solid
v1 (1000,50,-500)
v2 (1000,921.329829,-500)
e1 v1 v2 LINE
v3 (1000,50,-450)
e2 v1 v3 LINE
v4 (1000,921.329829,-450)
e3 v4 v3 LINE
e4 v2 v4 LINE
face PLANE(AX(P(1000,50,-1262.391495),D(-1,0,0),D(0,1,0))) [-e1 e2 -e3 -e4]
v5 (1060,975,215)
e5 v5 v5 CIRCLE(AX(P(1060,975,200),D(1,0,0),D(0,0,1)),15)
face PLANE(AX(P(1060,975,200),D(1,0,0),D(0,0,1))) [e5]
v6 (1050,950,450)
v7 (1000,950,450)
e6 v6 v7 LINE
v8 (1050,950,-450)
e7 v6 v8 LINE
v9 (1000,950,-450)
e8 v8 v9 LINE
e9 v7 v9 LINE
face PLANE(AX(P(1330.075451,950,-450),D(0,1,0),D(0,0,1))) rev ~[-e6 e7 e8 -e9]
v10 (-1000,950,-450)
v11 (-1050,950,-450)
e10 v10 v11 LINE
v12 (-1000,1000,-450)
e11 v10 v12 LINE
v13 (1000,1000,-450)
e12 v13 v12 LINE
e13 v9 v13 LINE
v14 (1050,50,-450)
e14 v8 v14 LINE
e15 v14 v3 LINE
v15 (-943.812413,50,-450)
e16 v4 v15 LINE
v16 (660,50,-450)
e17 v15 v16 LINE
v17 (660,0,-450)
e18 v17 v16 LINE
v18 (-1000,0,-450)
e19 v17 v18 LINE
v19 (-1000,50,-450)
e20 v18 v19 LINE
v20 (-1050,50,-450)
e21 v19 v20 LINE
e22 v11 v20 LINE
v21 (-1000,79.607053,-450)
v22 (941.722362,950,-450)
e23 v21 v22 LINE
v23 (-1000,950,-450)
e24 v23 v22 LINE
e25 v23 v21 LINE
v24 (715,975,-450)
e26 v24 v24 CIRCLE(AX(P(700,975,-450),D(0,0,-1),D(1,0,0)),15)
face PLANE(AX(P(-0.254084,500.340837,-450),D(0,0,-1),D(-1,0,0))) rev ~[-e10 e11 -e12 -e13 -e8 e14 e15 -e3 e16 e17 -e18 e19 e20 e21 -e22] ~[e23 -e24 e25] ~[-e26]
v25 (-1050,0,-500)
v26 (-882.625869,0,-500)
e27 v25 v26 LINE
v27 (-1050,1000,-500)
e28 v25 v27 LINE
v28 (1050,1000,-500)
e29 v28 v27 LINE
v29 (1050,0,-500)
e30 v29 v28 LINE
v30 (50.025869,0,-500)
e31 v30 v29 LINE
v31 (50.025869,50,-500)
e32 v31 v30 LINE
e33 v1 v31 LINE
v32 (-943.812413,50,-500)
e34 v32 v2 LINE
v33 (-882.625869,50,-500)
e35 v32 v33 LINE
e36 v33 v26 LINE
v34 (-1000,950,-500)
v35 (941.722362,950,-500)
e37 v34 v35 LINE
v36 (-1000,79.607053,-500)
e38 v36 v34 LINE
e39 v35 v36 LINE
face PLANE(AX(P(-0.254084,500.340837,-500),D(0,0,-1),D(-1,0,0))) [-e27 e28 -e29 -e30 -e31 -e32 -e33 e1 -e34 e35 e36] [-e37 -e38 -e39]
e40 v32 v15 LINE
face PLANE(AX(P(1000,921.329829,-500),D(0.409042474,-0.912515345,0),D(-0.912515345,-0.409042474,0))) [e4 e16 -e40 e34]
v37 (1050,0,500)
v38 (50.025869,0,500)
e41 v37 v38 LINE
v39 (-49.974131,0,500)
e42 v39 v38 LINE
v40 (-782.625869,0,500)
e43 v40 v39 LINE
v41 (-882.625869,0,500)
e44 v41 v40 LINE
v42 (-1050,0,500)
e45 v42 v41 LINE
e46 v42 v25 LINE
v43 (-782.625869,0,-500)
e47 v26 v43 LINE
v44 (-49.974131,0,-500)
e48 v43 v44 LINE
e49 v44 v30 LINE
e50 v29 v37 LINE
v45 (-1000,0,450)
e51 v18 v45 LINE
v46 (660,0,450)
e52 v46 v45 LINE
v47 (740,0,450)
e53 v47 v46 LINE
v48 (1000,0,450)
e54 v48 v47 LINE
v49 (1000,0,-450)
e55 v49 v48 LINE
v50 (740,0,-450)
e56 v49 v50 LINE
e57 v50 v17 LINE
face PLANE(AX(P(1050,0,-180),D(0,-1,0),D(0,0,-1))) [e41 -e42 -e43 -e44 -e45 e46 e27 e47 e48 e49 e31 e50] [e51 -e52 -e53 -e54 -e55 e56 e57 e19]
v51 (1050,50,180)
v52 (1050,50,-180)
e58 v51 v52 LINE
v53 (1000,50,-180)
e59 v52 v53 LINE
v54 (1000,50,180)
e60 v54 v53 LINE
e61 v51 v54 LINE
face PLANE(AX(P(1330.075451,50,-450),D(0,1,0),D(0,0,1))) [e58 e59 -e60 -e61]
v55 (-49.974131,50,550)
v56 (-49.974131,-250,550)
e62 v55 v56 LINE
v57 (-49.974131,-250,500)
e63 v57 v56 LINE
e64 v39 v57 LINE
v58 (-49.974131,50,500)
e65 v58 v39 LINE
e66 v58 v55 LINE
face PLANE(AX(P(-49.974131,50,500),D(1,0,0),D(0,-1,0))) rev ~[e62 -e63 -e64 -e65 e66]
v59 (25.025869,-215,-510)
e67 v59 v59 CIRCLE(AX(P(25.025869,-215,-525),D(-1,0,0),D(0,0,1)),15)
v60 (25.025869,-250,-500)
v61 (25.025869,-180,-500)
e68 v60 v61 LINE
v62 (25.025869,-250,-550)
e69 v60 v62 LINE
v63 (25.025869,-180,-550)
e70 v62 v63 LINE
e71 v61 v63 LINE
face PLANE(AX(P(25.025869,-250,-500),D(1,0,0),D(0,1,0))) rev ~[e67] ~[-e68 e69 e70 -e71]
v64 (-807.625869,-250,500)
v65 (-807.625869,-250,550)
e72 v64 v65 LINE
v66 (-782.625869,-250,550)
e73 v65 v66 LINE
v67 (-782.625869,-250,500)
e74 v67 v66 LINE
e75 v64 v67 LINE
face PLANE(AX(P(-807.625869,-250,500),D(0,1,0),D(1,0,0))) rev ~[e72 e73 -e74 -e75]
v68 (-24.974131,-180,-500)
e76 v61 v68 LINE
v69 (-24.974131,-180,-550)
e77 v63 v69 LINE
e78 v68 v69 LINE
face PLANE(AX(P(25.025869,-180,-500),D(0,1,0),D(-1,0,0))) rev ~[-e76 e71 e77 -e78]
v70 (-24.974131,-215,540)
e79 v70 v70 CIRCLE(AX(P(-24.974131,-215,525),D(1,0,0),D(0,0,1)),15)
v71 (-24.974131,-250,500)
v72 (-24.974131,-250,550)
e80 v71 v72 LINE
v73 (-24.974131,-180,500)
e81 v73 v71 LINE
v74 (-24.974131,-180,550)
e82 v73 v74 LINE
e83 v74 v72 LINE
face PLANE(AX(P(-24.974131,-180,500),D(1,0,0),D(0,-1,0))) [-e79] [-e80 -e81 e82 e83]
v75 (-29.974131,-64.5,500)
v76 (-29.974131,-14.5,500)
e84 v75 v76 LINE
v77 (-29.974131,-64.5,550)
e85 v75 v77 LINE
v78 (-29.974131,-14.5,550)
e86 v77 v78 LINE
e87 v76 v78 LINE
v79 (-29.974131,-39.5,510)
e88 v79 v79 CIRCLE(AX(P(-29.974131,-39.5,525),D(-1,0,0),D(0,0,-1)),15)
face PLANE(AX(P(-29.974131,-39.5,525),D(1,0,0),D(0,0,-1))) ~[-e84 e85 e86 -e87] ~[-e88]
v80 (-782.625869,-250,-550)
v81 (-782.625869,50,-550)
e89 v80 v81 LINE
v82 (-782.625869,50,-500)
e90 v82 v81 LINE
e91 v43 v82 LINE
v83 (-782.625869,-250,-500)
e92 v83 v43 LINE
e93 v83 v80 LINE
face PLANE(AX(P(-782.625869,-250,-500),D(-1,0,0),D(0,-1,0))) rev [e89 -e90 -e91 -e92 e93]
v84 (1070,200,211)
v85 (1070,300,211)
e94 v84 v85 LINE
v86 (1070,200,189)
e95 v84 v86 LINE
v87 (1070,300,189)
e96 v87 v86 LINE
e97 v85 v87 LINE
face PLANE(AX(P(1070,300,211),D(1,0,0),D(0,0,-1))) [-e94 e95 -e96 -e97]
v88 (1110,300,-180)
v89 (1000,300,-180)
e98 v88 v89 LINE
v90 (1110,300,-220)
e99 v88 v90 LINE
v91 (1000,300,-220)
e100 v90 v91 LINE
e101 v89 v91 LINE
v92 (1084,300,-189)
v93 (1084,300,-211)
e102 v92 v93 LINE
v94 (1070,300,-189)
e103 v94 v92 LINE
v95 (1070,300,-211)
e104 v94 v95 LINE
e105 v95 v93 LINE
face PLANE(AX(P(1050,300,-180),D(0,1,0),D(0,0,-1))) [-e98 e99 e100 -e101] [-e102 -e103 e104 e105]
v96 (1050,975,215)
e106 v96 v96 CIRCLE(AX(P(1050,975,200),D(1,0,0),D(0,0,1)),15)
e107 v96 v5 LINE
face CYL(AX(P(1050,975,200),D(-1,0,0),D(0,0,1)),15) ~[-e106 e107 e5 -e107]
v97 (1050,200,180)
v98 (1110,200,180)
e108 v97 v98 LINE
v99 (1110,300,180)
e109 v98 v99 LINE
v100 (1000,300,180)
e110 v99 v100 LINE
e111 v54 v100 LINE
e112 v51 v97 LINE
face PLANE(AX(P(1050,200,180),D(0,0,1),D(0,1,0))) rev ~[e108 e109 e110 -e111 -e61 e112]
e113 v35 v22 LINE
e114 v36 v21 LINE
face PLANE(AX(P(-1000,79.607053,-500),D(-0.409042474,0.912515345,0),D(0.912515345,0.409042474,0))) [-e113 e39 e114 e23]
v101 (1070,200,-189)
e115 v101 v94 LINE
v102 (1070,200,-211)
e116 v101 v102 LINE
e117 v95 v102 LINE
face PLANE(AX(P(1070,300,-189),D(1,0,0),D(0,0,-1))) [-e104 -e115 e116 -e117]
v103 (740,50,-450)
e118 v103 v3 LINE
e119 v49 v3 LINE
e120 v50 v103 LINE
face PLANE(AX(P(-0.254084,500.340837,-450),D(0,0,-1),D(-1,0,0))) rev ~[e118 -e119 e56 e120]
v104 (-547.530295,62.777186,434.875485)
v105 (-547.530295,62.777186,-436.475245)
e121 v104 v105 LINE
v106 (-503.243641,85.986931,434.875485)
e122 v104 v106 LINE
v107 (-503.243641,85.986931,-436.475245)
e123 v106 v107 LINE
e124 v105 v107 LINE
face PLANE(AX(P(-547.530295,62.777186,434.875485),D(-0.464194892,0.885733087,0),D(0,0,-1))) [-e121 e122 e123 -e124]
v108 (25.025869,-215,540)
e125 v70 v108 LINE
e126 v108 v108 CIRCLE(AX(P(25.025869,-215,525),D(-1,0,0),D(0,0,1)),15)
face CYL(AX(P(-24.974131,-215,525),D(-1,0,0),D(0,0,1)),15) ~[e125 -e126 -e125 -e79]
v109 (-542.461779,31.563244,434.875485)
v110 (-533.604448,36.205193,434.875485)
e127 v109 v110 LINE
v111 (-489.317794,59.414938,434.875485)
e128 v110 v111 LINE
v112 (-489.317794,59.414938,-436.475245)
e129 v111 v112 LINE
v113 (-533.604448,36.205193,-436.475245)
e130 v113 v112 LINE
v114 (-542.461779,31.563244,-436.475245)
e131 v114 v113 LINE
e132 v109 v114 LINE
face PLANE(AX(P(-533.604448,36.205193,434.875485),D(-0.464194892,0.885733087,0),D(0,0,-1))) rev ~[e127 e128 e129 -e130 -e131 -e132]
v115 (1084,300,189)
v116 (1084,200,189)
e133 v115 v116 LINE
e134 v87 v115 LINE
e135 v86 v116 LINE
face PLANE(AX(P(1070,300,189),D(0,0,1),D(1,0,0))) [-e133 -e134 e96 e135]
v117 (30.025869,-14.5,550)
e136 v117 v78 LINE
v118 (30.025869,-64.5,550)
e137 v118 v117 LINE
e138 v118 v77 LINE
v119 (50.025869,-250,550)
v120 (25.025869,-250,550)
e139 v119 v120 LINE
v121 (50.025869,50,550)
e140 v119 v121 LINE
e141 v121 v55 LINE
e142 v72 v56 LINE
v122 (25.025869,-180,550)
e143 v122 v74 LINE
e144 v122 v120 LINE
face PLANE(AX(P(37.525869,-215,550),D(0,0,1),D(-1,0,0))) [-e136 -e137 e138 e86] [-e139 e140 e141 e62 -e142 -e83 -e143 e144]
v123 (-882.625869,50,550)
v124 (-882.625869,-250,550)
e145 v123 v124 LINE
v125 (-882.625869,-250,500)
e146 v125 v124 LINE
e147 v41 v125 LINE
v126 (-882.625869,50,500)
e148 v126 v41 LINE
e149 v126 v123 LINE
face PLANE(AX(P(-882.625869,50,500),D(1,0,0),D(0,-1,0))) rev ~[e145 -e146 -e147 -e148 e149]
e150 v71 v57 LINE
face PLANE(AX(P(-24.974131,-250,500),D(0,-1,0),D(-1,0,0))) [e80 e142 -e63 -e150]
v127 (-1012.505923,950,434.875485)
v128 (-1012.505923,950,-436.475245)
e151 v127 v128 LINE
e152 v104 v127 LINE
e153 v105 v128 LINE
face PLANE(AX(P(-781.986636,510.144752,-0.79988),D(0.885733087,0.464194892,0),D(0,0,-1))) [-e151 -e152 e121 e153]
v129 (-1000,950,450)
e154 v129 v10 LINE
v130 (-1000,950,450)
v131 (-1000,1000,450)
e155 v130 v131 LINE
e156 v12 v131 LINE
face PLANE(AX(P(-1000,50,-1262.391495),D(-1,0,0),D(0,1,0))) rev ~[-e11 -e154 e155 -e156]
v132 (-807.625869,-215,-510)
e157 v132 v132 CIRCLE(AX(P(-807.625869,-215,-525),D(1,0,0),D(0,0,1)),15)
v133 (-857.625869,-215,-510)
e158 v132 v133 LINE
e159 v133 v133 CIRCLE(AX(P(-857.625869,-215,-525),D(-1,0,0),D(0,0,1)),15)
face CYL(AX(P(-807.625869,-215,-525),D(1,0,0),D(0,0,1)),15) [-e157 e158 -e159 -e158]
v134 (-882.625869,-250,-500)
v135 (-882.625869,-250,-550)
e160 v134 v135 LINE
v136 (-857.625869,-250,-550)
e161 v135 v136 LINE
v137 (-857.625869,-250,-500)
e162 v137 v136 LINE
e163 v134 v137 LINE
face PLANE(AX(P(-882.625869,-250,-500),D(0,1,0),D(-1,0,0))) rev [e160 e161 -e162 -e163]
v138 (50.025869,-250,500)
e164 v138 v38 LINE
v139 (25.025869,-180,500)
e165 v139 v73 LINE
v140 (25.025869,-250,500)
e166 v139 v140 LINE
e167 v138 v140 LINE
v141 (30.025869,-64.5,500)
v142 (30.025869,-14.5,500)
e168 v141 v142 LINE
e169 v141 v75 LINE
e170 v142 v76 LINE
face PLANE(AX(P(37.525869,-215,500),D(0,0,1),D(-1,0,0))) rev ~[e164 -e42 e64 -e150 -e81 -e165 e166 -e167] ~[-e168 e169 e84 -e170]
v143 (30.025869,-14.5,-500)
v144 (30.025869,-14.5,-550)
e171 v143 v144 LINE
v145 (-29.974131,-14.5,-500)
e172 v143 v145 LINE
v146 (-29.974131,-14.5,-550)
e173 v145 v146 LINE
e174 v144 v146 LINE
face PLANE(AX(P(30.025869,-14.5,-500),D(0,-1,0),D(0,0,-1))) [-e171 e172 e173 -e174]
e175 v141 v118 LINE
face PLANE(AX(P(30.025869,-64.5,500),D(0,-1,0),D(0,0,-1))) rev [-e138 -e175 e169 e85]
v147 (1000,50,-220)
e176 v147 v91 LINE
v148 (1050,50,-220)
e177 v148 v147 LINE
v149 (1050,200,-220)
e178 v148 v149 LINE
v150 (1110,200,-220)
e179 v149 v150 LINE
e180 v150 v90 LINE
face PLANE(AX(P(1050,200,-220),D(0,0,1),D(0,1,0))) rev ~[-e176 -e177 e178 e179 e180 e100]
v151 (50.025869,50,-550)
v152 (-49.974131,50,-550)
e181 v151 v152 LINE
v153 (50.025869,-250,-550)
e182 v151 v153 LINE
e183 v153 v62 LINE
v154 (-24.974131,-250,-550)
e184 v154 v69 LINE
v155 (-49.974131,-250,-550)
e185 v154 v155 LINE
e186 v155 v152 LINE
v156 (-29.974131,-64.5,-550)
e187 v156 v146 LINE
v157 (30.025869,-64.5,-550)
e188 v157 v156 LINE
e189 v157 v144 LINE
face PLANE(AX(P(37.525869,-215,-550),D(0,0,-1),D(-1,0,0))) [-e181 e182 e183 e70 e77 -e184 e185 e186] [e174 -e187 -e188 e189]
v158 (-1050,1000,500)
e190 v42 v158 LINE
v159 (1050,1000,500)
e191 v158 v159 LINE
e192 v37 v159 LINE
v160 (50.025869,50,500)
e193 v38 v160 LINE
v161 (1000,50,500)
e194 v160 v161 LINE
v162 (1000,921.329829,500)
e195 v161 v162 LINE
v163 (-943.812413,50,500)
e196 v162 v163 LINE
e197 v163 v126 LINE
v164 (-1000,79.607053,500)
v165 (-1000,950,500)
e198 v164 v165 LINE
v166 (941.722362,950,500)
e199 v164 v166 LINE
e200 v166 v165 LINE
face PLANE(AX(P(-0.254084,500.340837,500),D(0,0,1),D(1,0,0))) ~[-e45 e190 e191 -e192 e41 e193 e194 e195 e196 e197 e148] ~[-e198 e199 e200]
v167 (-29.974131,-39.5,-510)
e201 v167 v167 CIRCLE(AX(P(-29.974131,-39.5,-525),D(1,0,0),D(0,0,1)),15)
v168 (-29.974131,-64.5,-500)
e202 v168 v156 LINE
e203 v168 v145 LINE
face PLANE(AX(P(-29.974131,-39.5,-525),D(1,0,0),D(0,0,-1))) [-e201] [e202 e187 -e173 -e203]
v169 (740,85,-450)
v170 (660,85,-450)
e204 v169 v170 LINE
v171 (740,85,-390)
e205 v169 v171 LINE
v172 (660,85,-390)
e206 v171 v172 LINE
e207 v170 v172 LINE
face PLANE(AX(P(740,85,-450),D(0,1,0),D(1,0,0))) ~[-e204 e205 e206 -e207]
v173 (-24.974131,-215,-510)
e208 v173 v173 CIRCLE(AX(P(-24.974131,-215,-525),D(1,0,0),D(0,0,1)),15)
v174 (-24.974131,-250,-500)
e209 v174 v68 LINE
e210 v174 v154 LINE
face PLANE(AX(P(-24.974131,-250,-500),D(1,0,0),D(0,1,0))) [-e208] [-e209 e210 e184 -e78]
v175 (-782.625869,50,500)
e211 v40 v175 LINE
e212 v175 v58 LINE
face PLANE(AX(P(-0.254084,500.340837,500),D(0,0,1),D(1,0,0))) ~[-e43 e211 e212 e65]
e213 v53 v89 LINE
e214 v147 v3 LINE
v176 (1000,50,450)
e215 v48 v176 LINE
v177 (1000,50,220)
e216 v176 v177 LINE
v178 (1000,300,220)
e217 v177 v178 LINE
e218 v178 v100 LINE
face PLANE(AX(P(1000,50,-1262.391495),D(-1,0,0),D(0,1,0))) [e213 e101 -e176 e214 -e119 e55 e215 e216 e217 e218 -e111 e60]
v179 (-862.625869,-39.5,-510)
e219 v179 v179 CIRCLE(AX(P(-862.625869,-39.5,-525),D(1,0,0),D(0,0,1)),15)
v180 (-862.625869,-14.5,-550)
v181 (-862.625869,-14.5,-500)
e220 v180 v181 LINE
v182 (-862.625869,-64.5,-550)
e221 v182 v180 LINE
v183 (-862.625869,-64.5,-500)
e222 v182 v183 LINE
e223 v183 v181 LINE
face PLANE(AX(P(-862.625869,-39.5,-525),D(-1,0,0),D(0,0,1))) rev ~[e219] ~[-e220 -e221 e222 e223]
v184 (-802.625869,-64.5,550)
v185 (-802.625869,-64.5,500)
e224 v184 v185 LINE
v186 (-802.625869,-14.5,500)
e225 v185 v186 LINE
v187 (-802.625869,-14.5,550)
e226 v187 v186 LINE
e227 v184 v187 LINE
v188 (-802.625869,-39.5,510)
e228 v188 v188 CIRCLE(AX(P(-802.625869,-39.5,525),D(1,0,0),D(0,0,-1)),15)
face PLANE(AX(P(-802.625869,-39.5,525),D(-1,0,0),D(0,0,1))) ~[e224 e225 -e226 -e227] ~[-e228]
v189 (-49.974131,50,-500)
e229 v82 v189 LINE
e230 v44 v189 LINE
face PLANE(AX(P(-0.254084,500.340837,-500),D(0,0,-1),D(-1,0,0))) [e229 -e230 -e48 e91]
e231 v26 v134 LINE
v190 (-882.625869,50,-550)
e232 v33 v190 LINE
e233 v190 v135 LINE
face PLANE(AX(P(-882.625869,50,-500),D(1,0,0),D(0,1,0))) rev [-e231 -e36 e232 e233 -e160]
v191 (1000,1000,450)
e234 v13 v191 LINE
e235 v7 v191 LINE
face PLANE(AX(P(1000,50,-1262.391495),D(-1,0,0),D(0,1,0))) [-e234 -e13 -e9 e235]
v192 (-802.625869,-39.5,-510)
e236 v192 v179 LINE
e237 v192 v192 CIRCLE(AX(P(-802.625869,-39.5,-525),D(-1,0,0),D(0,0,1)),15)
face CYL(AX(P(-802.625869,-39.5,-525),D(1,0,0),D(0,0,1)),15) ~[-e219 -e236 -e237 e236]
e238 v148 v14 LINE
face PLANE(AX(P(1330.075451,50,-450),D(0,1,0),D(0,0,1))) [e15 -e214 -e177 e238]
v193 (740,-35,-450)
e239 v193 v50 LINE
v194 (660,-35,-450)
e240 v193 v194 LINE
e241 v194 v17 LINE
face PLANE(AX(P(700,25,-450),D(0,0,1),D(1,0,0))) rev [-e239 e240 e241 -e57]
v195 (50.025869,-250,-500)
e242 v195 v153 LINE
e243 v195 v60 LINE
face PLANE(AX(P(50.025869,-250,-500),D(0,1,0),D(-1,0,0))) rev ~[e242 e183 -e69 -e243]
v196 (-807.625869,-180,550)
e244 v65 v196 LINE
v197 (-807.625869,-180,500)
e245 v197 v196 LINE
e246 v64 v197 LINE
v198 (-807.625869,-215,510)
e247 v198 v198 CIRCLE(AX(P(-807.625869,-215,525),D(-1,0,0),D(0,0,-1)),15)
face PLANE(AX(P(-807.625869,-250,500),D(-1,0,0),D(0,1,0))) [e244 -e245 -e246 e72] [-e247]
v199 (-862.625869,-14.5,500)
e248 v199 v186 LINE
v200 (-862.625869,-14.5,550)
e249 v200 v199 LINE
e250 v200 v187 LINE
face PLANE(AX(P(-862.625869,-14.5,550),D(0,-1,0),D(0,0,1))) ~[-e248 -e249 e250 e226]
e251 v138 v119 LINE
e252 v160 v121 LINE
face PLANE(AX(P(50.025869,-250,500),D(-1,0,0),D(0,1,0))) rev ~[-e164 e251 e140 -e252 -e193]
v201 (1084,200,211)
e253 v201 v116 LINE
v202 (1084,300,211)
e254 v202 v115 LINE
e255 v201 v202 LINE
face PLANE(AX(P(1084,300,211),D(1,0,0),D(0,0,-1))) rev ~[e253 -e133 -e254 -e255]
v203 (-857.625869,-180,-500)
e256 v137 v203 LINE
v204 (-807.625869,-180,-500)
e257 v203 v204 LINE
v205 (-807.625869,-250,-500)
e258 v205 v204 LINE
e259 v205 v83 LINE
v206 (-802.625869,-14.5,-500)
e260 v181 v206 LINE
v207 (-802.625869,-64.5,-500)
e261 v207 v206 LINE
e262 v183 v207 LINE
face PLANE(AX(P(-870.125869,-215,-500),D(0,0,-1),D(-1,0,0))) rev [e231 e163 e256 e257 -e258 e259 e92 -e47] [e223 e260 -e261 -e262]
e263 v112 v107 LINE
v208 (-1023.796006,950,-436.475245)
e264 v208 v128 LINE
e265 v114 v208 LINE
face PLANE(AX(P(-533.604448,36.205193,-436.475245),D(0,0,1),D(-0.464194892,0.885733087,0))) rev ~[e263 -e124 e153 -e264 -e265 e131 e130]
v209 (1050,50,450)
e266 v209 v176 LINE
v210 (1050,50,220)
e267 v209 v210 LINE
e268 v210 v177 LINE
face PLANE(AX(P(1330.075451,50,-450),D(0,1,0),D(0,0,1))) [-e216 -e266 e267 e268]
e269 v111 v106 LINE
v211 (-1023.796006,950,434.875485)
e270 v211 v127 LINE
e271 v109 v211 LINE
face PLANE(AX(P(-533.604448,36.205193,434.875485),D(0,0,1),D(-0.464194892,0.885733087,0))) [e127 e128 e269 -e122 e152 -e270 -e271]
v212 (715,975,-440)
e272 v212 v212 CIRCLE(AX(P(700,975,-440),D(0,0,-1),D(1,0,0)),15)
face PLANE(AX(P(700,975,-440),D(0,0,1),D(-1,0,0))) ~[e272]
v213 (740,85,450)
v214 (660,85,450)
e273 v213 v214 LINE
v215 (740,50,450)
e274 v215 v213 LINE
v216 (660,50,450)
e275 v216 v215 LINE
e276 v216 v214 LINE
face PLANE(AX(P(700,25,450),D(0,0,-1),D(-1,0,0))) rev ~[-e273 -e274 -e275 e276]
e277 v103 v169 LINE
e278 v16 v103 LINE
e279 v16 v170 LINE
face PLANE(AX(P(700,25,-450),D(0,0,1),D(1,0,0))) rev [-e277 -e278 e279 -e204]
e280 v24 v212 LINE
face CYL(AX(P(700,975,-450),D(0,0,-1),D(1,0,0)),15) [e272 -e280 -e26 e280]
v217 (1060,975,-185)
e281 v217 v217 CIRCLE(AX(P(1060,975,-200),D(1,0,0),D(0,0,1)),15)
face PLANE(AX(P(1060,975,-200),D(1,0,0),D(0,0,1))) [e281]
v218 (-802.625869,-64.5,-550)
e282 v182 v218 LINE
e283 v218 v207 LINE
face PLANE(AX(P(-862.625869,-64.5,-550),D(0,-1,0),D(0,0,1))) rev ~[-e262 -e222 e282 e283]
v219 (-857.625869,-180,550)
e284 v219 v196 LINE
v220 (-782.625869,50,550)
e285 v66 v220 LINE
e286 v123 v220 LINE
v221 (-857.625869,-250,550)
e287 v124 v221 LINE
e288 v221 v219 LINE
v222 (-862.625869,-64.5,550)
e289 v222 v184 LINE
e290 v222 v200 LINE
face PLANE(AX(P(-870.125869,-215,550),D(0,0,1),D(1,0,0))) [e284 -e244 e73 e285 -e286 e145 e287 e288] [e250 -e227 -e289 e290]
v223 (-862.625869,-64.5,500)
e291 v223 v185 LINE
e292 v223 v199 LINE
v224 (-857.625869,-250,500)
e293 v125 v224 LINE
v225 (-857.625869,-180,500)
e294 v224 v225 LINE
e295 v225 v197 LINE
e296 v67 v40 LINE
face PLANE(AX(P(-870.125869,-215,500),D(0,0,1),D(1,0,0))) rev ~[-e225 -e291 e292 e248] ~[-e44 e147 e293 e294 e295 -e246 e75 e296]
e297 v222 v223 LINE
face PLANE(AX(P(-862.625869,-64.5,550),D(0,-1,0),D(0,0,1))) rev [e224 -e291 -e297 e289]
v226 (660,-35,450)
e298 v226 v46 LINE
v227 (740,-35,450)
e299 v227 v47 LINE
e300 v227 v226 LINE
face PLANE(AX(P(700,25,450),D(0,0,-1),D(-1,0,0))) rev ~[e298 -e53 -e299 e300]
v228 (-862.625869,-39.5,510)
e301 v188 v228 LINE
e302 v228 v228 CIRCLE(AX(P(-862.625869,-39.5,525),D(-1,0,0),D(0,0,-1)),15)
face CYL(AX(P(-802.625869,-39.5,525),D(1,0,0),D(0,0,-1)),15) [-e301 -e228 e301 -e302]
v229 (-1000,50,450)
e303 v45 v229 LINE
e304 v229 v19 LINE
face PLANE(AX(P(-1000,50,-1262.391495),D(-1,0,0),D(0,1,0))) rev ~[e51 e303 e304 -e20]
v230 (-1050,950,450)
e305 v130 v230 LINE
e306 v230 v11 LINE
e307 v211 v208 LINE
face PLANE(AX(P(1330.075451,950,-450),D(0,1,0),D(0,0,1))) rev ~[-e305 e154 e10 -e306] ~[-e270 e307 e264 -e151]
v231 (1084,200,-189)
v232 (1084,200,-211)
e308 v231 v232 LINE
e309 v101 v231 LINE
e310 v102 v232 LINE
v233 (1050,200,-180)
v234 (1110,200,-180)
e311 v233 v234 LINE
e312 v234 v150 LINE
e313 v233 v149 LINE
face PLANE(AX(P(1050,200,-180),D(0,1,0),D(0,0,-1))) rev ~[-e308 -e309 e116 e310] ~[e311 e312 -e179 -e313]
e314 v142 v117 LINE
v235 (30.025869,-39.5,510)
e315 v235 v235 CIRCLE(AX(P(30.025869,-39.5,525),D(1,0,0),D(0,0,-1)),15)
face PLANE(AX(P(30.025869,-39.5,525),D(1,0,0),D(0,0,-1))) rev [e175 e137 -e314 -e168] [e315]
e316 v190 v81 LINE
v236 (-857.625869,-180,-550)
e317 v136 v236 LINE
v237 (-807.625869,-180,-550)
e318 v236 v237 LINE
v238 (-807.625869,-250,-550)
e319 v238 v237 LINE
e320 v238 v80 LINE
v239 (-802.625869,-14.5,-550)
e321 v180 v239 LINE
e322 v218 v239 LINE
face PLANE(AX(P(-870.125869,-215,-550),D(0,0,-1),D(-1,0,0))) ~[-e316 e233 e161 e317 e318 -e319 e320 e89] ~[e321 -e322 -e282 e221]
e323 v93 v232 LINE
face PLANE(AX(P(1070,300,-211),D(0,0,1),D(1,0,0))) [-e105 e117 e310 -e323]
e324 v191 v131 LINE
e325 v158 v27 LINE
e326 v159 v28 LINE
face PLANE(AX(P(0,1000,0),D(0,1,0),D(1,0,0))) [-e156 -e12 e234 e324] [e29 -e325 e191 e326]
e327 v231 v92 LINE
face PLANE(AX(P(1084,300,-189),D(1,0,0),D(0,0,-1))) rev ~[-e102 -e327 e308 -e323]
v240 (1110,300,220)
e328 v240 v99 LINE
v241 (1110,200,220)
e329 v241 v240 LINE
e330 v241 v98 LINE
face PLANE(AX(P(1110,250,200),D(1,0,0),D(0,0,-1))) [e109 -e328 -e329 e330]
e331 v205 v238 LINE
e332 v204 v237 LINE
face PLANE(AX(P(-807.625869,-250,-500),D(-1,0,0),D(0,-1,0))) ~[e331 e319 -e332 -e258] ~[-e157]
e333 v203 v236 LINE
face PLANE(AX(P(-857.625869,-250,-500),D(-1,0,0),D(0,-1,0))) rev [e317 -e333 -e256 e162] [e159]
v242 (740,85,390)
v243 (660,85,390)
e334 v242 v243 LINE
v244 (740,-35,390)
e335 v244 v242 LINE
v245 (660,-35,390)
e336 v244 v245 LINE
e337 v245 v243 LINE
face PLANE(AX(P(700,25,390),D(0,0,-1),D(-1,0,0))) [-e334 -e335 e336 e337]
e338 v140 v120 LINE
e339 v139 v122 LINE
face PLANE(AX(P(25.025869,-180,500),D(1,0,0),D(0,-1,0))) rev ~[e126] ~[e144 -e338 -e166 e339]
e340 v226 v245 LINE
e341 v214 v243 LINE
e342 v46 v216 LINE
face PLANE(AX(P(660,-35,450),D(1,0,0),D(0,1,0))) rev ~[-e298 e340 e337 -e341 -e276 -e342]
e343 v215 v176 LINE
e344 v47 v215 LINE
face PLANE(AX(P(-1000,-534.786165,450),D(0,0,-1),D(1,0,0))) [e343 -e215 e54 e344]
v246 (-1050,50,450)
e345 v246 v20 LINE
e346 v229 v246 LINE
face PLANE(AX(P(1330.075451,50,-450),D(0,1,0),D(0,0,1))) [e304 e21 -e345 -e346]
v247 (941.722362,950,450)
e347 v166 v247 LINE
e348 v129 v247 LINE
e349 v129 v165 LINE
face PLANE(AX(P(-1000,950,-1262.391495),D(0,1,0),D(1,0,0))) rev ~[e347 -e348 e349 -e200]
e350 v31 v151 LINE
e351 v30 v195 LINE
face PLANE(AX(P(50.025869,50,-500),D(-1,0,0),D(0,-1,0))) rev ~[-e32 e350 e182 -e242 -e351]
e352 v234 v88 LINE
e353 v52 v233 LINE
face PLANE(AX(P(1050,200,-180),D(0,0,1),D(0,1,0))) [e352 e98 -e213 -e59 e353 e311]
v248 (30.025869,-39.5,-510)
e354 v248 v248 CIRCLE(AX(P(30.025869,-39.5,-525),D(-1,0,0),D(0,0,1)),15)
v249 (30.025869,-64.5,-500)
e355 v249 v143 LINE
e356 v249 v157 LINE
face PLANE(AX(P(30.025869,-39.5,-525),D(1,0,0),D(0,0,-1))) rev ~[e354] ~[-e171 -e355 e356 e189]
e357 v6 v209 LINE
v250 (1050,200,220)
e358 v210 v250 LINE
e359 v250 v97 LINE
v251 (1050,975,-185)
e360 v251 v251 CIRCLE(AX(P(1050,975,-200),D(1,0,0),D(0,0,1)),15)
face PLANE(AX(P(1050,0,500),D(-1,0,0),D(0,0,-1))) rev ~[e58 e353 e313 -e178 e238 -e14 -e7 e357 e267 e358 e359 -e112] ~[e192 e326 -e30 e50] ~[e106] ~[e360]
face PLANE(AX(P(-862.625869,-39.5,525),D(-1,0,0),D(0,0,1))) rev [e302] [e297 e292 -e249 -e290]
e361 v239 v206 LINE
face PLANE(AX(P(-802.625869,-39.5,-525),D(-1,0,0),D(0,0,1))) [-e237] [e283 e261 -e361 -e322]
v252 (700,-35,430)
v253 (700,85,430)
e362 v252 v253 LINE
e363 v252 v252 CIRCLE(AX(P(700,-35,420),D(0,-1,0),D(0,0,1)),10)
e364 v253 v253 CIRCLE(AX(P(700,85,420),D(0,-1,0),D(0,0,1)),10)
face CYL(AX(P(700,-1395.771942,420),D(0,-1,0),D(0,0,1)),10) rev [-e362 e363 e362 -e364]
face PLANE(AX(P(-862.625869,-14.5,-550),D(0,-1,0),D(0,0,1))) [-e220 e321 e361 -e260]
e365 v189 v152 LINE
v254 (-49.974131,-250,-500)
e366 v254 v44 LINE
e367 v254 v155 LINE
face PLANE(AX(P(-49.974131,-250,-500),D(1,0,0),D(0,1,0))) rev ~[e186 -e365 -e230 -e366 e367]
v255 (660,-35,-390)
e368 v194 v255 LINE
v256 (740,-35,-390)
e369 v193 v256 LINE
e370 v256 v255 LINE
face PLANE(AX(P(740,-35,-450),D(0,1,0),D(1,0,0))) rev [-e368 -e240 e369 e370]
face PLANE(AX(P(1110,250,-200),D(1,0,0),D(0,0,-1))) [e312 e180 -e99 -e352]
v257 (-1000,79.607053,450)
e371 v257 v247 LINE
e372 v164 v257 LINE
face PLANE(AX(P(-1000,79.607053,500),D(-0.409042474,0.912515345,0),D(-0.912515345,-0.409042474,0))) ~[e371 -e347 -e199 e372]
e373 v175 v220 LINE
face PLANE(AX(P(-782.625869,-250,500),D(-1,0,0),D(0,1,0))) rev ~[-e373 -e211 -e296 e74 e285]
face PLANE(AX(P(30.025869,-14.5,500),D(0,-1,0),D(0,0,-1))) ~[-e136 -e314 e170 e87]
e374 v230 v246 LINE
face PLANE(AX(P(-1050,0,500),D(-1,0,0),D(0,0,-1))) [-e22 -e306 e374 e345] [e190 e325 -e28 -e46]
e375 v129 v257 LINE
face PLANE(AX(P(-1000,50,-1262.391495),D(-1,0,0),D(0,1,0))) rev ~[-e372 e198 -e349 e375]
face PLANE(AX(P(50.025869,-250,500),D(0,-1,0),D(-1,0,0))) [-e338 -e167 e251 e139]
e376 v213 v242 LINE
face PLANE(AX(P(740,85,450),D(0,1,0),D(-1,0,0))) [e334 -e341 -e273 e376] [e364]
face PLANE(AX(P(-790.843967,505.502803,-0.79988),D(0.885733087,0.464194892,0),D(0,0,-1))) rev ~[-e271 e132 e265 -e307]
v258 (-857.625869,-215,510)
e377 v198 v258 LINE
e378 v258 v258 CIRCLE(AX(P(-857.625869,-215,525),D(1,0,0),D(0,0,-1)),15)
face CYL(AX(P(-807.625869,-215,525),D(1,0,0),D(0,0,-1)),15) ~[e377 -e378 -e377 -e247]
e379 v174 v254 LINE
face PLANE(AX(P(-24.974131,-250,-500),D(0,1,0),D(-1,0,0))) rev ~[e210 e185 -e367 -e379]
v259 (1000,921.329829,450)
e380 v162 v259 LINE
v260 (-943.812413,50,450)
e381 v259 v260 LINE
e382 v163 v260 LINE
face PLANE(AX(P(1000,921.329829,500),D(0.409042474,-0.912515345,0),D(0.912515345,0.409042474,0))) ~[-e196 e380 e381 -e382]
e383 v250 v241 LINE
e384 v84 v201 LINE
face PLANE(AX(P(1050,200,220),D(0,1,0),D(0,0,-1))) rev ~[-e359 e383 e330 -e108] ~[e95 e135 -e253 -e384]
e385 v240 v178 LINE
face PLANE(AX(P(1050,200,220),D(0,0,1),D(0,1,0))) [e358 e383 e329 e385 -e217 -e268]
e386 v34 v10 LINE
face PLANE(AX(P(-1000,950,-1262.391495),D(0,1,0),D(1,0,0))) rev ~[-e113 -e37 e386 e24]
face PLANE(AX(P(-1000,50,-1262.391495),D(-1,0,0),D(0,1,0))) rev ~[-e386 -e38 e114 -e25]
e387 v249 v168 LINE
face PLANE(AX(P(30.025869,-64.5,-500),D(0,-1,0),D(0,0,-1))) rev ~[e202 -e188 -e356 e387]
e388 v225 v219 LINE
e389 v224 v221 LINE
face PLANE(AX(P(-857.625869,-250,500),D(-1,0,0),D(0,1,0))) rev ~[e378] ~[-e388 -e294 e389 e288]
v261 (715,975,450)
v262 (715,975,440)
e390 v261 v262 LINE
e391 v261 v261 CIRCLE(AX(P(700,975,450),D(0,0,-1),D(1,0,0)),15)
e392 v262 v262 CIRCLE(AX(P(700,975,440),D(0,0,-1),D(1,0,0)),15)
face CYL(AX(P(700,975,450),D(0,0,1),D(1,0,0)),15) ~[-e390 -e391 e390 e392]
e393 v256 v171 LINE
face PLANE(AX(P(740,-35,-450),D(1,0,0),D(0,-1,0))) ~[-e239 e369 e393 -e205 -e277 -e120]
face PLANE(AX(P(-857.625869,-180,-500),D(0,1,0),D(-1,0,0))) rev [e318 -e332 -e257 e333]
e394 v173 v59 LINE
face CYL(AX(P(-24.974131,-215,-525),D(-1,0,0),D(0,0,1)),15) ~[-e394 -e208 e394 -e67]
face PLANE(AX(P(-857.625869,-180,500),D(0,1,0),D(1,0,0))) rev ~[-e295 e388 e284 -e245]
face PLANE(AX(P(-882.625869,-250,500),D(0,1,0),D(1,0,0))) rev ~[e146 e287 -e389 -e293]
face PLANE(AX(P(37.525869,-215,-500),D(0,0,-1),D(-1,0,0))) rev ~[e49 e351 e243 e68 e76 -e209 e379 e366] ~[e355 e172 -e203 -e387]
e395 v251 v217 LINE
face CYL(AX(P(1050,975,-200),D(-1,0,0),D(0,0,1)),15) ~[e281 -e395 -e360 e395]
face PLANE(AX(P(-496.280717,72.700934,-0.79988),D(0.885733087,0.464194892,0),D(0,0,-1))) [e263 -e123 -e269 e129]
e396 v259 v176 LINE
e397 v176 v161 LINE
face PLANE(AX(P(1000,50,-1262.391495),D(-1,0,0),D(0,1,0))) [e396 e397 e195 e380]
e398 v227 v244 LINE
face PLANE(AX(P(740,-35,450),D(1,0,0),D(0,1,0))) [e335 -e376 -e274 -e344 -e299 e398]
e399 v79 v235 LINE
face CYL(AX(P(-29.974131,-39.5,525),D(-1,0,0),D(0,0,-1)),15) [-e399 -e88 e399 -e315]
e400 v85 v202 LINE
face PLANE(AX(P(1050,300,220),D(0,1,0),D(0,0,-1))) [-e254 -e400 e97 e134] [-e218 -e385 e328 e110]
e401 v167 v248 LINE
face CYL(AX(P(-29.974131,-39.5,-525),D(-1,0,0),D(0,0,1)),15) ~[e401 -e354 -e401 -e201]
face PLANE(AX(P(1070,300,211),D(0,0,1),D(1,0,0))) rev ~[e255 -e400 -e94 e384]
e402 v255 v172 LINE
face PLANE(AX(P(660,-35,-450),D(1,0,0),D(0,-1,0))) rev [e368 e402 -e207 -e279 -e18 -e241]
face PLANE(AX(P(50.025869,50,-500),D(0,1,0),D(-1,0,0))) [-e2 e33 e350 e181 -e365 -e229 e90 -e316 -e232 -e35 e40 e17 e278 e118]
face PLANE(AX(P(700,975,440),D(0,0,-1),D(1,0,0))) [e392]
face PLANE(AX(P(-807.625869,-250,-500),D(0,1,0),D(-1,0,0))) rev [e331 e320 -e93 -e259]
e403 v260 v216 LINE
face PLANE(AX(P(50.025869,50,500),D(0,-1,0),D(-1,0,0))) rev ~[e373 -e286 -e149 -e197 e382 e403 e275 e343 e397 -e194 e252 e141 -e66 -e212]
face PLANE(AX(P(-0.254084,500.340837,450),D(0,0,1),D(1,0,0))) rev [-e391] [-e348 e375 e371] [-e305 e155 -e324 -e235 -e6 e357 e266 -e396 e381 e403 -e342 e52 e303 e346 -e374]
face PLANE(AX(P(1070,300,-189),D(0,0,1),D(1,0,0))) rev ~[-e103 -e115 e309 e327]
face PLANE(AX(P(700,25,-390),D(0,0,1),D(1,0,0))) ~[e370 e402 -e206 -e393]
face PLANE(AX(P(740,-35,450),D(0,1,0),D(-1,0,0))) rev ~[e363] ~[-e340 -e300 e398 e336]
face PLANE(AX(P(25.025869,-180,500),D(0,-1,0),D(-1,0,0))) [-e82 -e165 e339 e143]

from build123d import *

# Parameters (mm, degrees)
SKETCH1_W                 = 2100
SKETCH1_H                 = 1000
BOSS_EXTRUDE1_DEPTH       = 1000
CUT_EXTRUDE1_DEPTH        = 1534.786165018
CUT_EXTRUDE1_DEPTH_BACK   = 1534.786165018
SKETCH2_W                 = 2000
SKETCH2_H                 = 900
CUT_EXTRUDE2_DEPTH        = 1762.391495381
CUT_EXTRUDE2_DEPTH_BACK   = 1762.391495381
SKETCH3_W                 = 2000
SKETCH3_H                 = 900
CUT_EXTRUDE3_DEPTH        = 2380.075450674
CUT_EXTRUDE3_DEPTH_BACK   = 2380.075450674
SKETCH4_W                 = 900
SKETCH4_H                 = 900
SKETCH11_R                = 15
BOSS_EXTRUDE4_DEPTH       = 10
SKETCH13_W                = 80
SKETCH13_H                = 120
BOSS_EXTRUDE6_DEPTH       = 60
CUT_EXTRUDE5_DEPTH        = 1480.771941888
CUT_EXTRUDE5_DEPTH_BACK   = 1480.771941888
SKETCH14_R                = 10
BOSS_EXTRUDE9_DEPTH       = 50
SKETCH18_W                = 25
SKETCH18_H                = 70
SKETCH18_W_2              = 100
SKETCH18_H_2              = 50
BOSS_EXTRUDE10_DEPTH      = 50
BOSS_EXTRUDE11_REACH      = 2182.2
SKETCH19_R                = 15
LPATTERN1_COUNT           = 2
LPATTERN1_PITCH           = 832.6
MIRROR6_COPY_1_SKETCH_W   = 25
MIRROR6_COPY_1_SKETCH_H   = 70
MIRROR6_COPY_1_SKETCH_W_2 = 100
MIRROR6_COPY_1_SKETCH_H_2 = 50
MIRROR6_COPY_1_DEPTH      = 50
MIRROR6_COPY_2_REACH      = 2182.2
MIRROR6_COPY_2_SKETCH_R   = 15
MIRROR6_COPY_3_SKETCH_W   = 25
MIRROR6_COPY_3_SKETCH_H   = 70
MIRROR6_COPY_3_SKETCH_W_2 = 100
MIRROR6_COPY_3_SKETCH_H_2 = 50
MIRROR6_COPY_3_DEPTH      = 50
MIRROR6_COPY_4_REACH      = 2182.2
MIRROR6_COPY_4_SKETCH_R   = 15
SKETCH21_W                = 871.350730207
SKETCH21_H                = 1070.163382418
BOSS_EXTRUDE12_DEPTH      = 10
SKETCH22_W                = 871.350730207
SKETCH22_H                = 30
BOSS_EXTRUDE13_DEPTH      = 50
CUT_EXTRUDE6_DEPTH        = 1520.045753096
CUT_EXTRUDE6_DEPTH_BACK   = 1520.045753096
SKETCH23_W                = 100
SKETCH23_H                = 50
SKETCH24_R                = 15
BOSS_EXTRUDE14_DEPTH      = 10
LPATTERN2_COUNT           = 2
LPATTERN2_PITCH           = 400
SKETCH25_W                = 40
SKETCH25_H                = 300
BOSS_EXTRUDE15_DEPTH      = 50
SKETCH26_W                = 40
SKETCH26_H                = 100
BOSS_EXTRUDE16_DEPTH      = 60
SKETCH27_W                = 14
SKETCH27_H                = 22
CUT_EXTRUDE7_DEPTH        = 1423.884394461
LPATTERN3_COUNT           = 2
LPATTERN3_PITCH           = 400
CUT_EXTRUDE8_START        = -20
SKETCH29_W                = 50
SKETCH29_H                = 50
CUT_EXTRUDE8_DEPTH        = 60
BOSS_EXTRUDE17_REACH      = 2229.249
SKETCH30_R                = 15
CUT_EXTRUDE9_START        = -20
SKETCH31_W                = 50
SKETCH31_H                = 50
CUT_EXTRUDE9_DEPTH        = 60
BOSS_EXTRUDE18_REACH      = 1615.084
SKETCH32_R                = 15


with BuildPart() as part:
    # Sketch1 → Boss-Extrude1 (new body)
    with BuildSketch(Plane(origin=(0, 0, 0), x_dir=(1, 0, 0), z_dir=(0, 1, 0))):
        Rectangle(SKETCH1_W, SKETCH1_H)
    extrude(amount=BOSS_EXTRUDE1_DEPTH)

    # Sketch2 → Cut-Extrude1 (cut, two sides: drawn at the far end of the back side and taken through both)
    with BuildSketch(Plane(origin=(0, 1000, 0), x_dir=(1, 0, 0), z_dir=(0, 1, 0)).offset(-CUT_EXTRUDE1_DEPTH_BACK)):
        Rectangle(SKETCH2_W, SKETCH2_H)
    extrude(amount=CUT_EXTRUDE1_DEPTH + CUT_EXTRUDE1_DEPTH_BACK, mode=Mode.SUBTRACT)

    # Sketch3 → Cut-Extrude2 (cut, two sides: drawn at the far end of the back side and taken through both)
    with BuildSketch(Plane.XY.offset(500).offset(-CUT_EXTRUDE2_DEPTH_BACK)):
        with Locations((0, 500)):
            Rectangle(SKETCH3_W, SKETCH3_H)
    extrude(amount=CUT_EXTRUDE2_DEPTH + CUT_EXTRUDE2_DEPTH_BACK, mode=Mode.SUBTRACT)

    # Sketch4 → Cut-Extrude3 (cut, two sides: drawn at the far end of the back side and taken through both)
    with BuildSketch(Plane.ZY.offset(1050).offset(-CUT_EXTRUDE3_DEPTH_BACK)):
        with Locations((0, 500)):
            Rectangle(SKETCH4_W, SKETCH4_H)
    extrude(amount=CUT_EXTRUDE3_DEPTH + CUT_EXTRUDE3_DEPTH_BACK, mode=Mode.SUBTRACT)

    # Sketch11 → Boss-Extrude4 (add)
    with BuildSketch(Plane(origin=(0, 0, 450), x_dir=(-1, 0, 0), z_dir=(0, 0, -1))):
        with Locations(Location((-700, 975, 0), (0, 0, 180))):
            Circle(SKETCH11_R)
    boss_extrude4 = extrude(amount=BOSS_EXTRUDE4_DEPTH)

    # Sketch13 → Boss-Extrude6 (add)
    with BuildSketch(Plane(origin=(0, 0, 450), x_dir=(-1, 0, 0), z_dir=(0, 0, -1))):
        with Locations((-700, 25)):
            Rectangle(SKETCH13_W, SKETCH13_H)
    boss_extrude6 = extrude(amount=BOSS_EXTRUDE6_DEPTH)

    # Sketch14 → Cut-Extrude5 (cut, two sides: drawn at the far end of the back side and taken through both)
    with BuildSketch(Plane(origin=(0, 85, 0), x_dir=(1, 0, 0), z_dir=(0, 1, 0)).offset(-CUT_EXTRUDE5_DEPTH_BACK)):
        with Locations(Location((700, -420, 0), (0, 0, 270))):
            Circle(SKETCH14_R)
    extrude(amount=CUT_EXTRUDE5_DEPTH + CUT_EXTRUDE5_DEPTH_BACK, mode=Mode.SUBTRACT)

    # Mirror3: Boss-Extrude4 across plane
    add(boss_extrude4.mirror(Plane.XY))

    # Sketch17 → Boss-Extrude9 (add)
    with BuildSketch(Plane(origin=(0, 0, -500), x_dir=(-1, 0, 0), z_dir=(0, 0, -1))):
        Polygon((-1000, 921.329829059), (943.812412752, 50), (1000, 50), (1000, 79.607053118), (-941.722362412, 950), (-1000, 950), align=None)
    boss_extrude9 = extrude(amount=-BOSS_EXTRUDE9_DEPTH)

    # Mirror4: Boss-Extrude9 across plane
    add(boss_extrude9.mirror(Plane.XY))

    # Sketch18 → Boss-Extrude10 (add)
    with BuildSketch(Plane(origin=(0, 0, -500), x_dir=(-1, 0, 0), z_dir=(0, 0, -1))):
        with Locations((-870.12586946, -215)):
            Rectangle(SKETCH18_W, SKETCH18_H)
        with Locations((-795.12586946, -215)):
            Rectangle(SKETCH18_W, SKETCH18_H)
        Polygon((-882.62586946, 0), (-882.62586946, -180), (-857.62586946, -180), (-807.62586946, -180), (-782.62586946, -180), (-782.62586946, 0), align=None)
        with Locations((-832.62586946, 25)):
            Rectangle(SKETCH18_W_2, SKETCH18_H_2)
    boss_extrude10 = extrude(amount=BOSS_EXTRUDE10_DEPTH)

    # Sketch19 → Boss-Extrude11 (add, up to next)
    with BuildSketch(Plane(origin=(807.62586946, 0, 0), x_dir=(0, 0, -1), z_dir=(1, 0, 0)), mode=Mode.PRIVATE) as boss_extrude11_sk1:
        with Locations(Location((525, -215, 0), (0, 0, 180))):
            Circle(SKETCH19_R)
    boss_extrude11_tool1 = extrude(boss_extrude11_sk1.sketch, amount=BOSS_EXTRUDE11_REACH, mode=Mode.PRIVATE) - part.part
    boss_extrude11 = boss_extrude11_tool1.solids().sort_by_distance((807.625869, -215, -525))[0]
    add(boss_extrude11)

    # Mirror5: Boss-Extrude10, Boss-Extrude11 across plane
    add(boss_extrude10.mirror(Plane(origin=(0, 0, 0), x_dir=(0, 0, 1), z_dir=(1, 0, 0))))
    add(boss_extrude11.mirror(Plane(origin=(0, 0, 0), x_dir=(0, 0, 1), z_dir=(1, 0, 0))))

    # LPattern1: Boss-Extrude10, Boss-Extrude11 ×2
    with Locations(*[(-i * LPATTERN1_PITCH, 0, 0) for i in range(1, LPATTERN1_COUNT)]):
        add(boss_extrude10)
        add(boss_extrude11)

    # Mirror6: Boss-Extrude10, Boss-Extrude11 across plane
    add(boss_extrude10.mirror(Plane.XY))
    add(boss_extrude11.mirror(Plane.XY))

    # Mirror6 copy 1 sketch → Mirror6 copy 1 (add)
    with BuildSketch(Plane.XY.offset(500)):
        with Locations((-870.12586946, -215)):
            Rectangle(MIRROR6_COPY_1_SKETCH_W, MIRROR6_COPY_1_SKETCH_H)
        with Locations((-795.12586946, -215)):
            Rectangle(MIRROR6_COPY_1_SKETCH_W, MIRROR6_COPY_1_SKETCH_H)
        Polygon((-882.62586946, 0), (-882.62586946, -180), (-857.62586946, -180), (-807.62586946, -180), (-782.62586946, -180), (-782.62586946, 0), align=None)
        with Locations((-832.62586946, 25)):
            Rectangle(MIRROR6_COPY_1_SKETCH_W_2, MIRROR6_COPY_1_SKETCH_H_2)
    extrude(amount=MIRROR6_COPY_1_DEPTH)

    # Mirror6 copy 2 sketch → Mirror6 copy 2 (add, up to next)
    with BuildSketch(Plane.ZY.offset(807.62586946), mode=Mode.PRIVATE) as mirror6_copy_2_sk1:
        with Locations(Location((525, -215, 0), (0, 0, 180))):
            Circle(MIRROR6_COPY_2_SKETCH_R)
    mirror6_copy_2_tool1 = extrude(mirror6_copy_2_sk1.sketch, amount=MIRROR6_COPY_2_REACH, mode=Mode.PRIVATE) - part.part
    add(mirror6_copy_2_tool1.solids().sort_by_distance((-807.625869, -215, 525))[0])

    # Mirror6 copy 3 sketch → Mirror6 copy 3 (add)
    with BuildSketch(Plane(origin=(-832.6, 0, 500), x_dir=(-1, 0, 0), z_dir=(0, 0, 1))):
        with Locations((-870.12586946, 215)):
            Rectangle(MIRROR6_COPY_3_SKETCH_W, MIRROR6_COPY_3_SKETCH_H)
        with Locations((-795.12586946, 215)):
            Rectangle(MIRROR6_COPY_3_SKETCH_W, MIRROR6_COPY_3_SKETCH_H)
        Polygon((-882.62586946, 0), (-882.62586946, 180), (-857.62586946, 180), (-807.62586946, 180), (-782.62586946, 180), (-782.62586946, 0), align=None)
        with Locations((-832.62586946, -25)):
            Rectangle(MIRROR6_COPY_3_SKETCH_W_2, MIRROR6_COPY_3_SKETCH_H_2)
    extrude(amount=MIRROR6_COPY_3_DEPTH)

    # Mirror6 copy 4 sketch → Mirror6 copy 4 (add, up to next)
    with BuildSketch(Plane(origin=(-24.97413054, 0, 0), x_dir=(0, 0, 1), z_dir=(1, 0, 0)), mode=Mode.PRIVATE) as mirror6_copy_4_sk1:
        with Locations((525, 215)):
            Circle(MIRROR6_COPY_4_SKETCH_R)
    mirror6_copy_4_tool1 = extrude(mirror6_copy_4_sk1.sketch, amount=MIRROR6_COPY_4_REACH, mode=Mode.PRIVATE) - part.part
    add(mirror6_copy_4_tool1.solids().sort_by_distance((-24.974131, -215, 525))[0])

    # Mirror7: Boss-Extrude6 across plane
    add(boss_extrude6.mirror(Plane.XY))

    # Sketch21 → Boss-Extrude12 (add)
    with BuildSketch(Plane(origin=(-412.59648232, -216.23351584, 0), x_dir=(0, 0, -1), z_dir=(0.8857330874212328, 0.4641948920951746, 0))):
        with Locations((0.799880363, 814.846288307)):
            Rectangle(SKETCH21_W, SKETCH21_H)
    extrude(amount=BOSS_EXTRUDE12_DEPTH)

    # Sketch22 → Boss-Extrude13 (add)
    with BuildSketch(Plane(origin=(-403.739151446, -211.591566919, 0), x_dir=(0, 0, -1), z_dir=(0.8857330874212327, 0.4641948920951747, 0))):
        with Locations((0.799880363, 294.764597098)):
            Rectangle(SKETCH22_W, SKETCH22_H)
    extrude(amount=BOSS_EXTRUDE13_DEPTH)

    # Sketch23 → Cut-Extrude6 (cut, two sides: drawn at the far end of the back side and taken through both)
    with BuildSketch(Plane(origin=(0, 50, 0), x_dir=(1, 0, 0), z_dir=(0, 1, 0)).offset(-CUT_EXTRUDE6_DEPTH_BACK)):
        with Locations((832.62586946, 525)):
            Rectangle(SKETCH23_W, SKETCH23_H)
        with Locations((832.62586946, -525)):
            Rectangle(SKETCH23_W, SKETCH23_H)
    extrude(amount=CUT_EXTRUDE6_DEPTH + CUT_EXTRUDE6_DEPTH_BACK, mode=Mode.SUBTRACT)

    # Sketch24 → Boss-Extrude14 (add)
    with BuildSketch(Plane(origin=(1050, 0, 0), x_dir=(0, 0, -1), z_dir=(1, 0, 0))):
        with Locations(Location((-200, 975, 0), (0, 0, 180))):
            Circle(SKETCH24_R)
    boss_extrude14 = extrude(amount=BOSS_EXTRUDE14_DEPTH)

    # LPattern2: Boss-Extrude14 ×2
    with Locations(*[(0, 0, -i * LPATTERN2_PITCH) for i in range(1, LPATTERN2_COUNT)]):
        add(boss_extrude14)

    # Sketch25 → Boss-Extrude15 (add)
    with BuildSketch(Plane(origin=(1050, 0, 0), x_dir=(0, 0, -1), z_dir=(1, 0, 0))):
        with Locations((-200, 150)):
            Rectangle(SKETCH25_W, SKETCH25_H)
    boss_extrude15 = extrude(amount=-BOSS_EXTRUDE15_DEPTH)

    # Sketch26 → Boss-Extrude16 (add)
    with BuildSketch(Plane(origin=(1050, 0, 0), x_dir=(0, 0, -1), z_dir=(1, 0, 0))):
        with Locations((-200, 250)):
            Rectangle(SKETCH26_W, SKETCH26_H)
    boss_extrude16 = extrude(amount=BOSS_EXTRUDE16_DEPTH)

    # Sketch27 → Cut-Extrude7 (cut, symmetric)
    with BuildSketch(Plane(origin=(0, 300, 0), x_dir=(1, 0, 0), z_dir=(0, 1, 0))):
        with Locations((1077, -200)):
            Rectangle(SKETCH27_W, SKETCH27_H)
    cut_extrude7 = extrude(amount=CUT_EXTRUDE7_DEPTH, both=True, mode=Mode.SUBTRACT)

    # LPattern3: Boss-Extrude15, Boss-Extrude16, Cut-Extrude7 ×2
    with Locations(*[(0, 0, -i * LPATTERN3_PITCH) for i in range(1, LPATTERN3_COUNT)]):
        add(boss_extrude15)
        add(boss_extrude16)
        add(cut_extrude7, mode=Mode.SUBTRACT)

    # Sketch29 → Cut-Extrude8 (cut)
    with BuildSketch(Plane.ZY.offset(882.62586946).offset(CUT_EXTRUDE8_START)):
        with Locations((-525, -39.5)):
            Rectangle(SKETCH29_W, SKETCH29_H)
    cut_extrude8 = extrude(amount=-CUT_EXTRUDE8_DEPTH, mode=Mode.SUBTRACT)

    # Sketch30 → Boss-Extrude17 (add, up to next)
    with BuildSketch(Plane.ZY.offset(802.62586946), mode=Mode.PRIVATE) as boss_extrude17_sk1:
        with Locations((-525, -39.5)):
            Circle(SKETCH30_R)
    boss_extrude17_tool1 = extrude(boss_extrude17_sk1.sketch, amount=BOSS_EXTRUDE17_REACH, mode=Mode.PRIVATE) - part.part
    boss_extrude17 = boss_extrude17_tool1.solids().sort_by_distance((-802.625869, -39.5, -525))[0]
    add(boss_extrude17)

    # Sketch31 → Cut-Extrude9 (cut)
    with BuildSketch(Plane(origin=(50.02586946, 0, 0), x_dir=(0, 0, -1), z_dir=(1, 0, 0)).offset(CUT_EXTRUDE9_START)):
        with Locations((525, -39.5)):
            Rectangle(SKETCH31_W, SKETCH31_H)
    cut_extrude9 = extrude(amount=-CUT_EXTRUDE9_DEPTH, mode=Mode.SUBTRACT)

    # Sketch32 → Boss-Extrude18 (add, up to next)
    with BuildSketch(Plane(origin=(-29.97413054, 0, 0), x_dir=(0, 0, -1), z_dir=(1, 0, 0)), mode=Mode.PRIVATE) as boss_extrude18_sk1:
        with Locations(Location((525, -39.5, 0), (0, 0, 180))):
            Circle(SKETCH32_R)
    boss_extrude18_tool1 = extrude(boss_extrude18_sk1.sketch, amount=BOSS_EXTRUDE18_REACH, mode=Mode.PRIVATE) - part.part
    boss_extrude18 = boss_extrude18_tool1.solids().sort_by_distance((-29.974131, -39.5, -525))[0]
    add(boss_extrude18)

    # Mirror8: Cut-Extrude8, Boss-Extrude17, Cut-Extrude9, Boss-Extrude18 across plane
    add(cut_extrude8.mirror(Plane.XY), mode=Mode.SUBTRACT)
    add(boss_extrude17.mirror(Plane.XY))
    add(cut_extrude9.mirror(Plane.XY), mode=Mode.SUBTRACT)
    add(boss_extrude18.mirror(Plane.XY))


solid = part.part
